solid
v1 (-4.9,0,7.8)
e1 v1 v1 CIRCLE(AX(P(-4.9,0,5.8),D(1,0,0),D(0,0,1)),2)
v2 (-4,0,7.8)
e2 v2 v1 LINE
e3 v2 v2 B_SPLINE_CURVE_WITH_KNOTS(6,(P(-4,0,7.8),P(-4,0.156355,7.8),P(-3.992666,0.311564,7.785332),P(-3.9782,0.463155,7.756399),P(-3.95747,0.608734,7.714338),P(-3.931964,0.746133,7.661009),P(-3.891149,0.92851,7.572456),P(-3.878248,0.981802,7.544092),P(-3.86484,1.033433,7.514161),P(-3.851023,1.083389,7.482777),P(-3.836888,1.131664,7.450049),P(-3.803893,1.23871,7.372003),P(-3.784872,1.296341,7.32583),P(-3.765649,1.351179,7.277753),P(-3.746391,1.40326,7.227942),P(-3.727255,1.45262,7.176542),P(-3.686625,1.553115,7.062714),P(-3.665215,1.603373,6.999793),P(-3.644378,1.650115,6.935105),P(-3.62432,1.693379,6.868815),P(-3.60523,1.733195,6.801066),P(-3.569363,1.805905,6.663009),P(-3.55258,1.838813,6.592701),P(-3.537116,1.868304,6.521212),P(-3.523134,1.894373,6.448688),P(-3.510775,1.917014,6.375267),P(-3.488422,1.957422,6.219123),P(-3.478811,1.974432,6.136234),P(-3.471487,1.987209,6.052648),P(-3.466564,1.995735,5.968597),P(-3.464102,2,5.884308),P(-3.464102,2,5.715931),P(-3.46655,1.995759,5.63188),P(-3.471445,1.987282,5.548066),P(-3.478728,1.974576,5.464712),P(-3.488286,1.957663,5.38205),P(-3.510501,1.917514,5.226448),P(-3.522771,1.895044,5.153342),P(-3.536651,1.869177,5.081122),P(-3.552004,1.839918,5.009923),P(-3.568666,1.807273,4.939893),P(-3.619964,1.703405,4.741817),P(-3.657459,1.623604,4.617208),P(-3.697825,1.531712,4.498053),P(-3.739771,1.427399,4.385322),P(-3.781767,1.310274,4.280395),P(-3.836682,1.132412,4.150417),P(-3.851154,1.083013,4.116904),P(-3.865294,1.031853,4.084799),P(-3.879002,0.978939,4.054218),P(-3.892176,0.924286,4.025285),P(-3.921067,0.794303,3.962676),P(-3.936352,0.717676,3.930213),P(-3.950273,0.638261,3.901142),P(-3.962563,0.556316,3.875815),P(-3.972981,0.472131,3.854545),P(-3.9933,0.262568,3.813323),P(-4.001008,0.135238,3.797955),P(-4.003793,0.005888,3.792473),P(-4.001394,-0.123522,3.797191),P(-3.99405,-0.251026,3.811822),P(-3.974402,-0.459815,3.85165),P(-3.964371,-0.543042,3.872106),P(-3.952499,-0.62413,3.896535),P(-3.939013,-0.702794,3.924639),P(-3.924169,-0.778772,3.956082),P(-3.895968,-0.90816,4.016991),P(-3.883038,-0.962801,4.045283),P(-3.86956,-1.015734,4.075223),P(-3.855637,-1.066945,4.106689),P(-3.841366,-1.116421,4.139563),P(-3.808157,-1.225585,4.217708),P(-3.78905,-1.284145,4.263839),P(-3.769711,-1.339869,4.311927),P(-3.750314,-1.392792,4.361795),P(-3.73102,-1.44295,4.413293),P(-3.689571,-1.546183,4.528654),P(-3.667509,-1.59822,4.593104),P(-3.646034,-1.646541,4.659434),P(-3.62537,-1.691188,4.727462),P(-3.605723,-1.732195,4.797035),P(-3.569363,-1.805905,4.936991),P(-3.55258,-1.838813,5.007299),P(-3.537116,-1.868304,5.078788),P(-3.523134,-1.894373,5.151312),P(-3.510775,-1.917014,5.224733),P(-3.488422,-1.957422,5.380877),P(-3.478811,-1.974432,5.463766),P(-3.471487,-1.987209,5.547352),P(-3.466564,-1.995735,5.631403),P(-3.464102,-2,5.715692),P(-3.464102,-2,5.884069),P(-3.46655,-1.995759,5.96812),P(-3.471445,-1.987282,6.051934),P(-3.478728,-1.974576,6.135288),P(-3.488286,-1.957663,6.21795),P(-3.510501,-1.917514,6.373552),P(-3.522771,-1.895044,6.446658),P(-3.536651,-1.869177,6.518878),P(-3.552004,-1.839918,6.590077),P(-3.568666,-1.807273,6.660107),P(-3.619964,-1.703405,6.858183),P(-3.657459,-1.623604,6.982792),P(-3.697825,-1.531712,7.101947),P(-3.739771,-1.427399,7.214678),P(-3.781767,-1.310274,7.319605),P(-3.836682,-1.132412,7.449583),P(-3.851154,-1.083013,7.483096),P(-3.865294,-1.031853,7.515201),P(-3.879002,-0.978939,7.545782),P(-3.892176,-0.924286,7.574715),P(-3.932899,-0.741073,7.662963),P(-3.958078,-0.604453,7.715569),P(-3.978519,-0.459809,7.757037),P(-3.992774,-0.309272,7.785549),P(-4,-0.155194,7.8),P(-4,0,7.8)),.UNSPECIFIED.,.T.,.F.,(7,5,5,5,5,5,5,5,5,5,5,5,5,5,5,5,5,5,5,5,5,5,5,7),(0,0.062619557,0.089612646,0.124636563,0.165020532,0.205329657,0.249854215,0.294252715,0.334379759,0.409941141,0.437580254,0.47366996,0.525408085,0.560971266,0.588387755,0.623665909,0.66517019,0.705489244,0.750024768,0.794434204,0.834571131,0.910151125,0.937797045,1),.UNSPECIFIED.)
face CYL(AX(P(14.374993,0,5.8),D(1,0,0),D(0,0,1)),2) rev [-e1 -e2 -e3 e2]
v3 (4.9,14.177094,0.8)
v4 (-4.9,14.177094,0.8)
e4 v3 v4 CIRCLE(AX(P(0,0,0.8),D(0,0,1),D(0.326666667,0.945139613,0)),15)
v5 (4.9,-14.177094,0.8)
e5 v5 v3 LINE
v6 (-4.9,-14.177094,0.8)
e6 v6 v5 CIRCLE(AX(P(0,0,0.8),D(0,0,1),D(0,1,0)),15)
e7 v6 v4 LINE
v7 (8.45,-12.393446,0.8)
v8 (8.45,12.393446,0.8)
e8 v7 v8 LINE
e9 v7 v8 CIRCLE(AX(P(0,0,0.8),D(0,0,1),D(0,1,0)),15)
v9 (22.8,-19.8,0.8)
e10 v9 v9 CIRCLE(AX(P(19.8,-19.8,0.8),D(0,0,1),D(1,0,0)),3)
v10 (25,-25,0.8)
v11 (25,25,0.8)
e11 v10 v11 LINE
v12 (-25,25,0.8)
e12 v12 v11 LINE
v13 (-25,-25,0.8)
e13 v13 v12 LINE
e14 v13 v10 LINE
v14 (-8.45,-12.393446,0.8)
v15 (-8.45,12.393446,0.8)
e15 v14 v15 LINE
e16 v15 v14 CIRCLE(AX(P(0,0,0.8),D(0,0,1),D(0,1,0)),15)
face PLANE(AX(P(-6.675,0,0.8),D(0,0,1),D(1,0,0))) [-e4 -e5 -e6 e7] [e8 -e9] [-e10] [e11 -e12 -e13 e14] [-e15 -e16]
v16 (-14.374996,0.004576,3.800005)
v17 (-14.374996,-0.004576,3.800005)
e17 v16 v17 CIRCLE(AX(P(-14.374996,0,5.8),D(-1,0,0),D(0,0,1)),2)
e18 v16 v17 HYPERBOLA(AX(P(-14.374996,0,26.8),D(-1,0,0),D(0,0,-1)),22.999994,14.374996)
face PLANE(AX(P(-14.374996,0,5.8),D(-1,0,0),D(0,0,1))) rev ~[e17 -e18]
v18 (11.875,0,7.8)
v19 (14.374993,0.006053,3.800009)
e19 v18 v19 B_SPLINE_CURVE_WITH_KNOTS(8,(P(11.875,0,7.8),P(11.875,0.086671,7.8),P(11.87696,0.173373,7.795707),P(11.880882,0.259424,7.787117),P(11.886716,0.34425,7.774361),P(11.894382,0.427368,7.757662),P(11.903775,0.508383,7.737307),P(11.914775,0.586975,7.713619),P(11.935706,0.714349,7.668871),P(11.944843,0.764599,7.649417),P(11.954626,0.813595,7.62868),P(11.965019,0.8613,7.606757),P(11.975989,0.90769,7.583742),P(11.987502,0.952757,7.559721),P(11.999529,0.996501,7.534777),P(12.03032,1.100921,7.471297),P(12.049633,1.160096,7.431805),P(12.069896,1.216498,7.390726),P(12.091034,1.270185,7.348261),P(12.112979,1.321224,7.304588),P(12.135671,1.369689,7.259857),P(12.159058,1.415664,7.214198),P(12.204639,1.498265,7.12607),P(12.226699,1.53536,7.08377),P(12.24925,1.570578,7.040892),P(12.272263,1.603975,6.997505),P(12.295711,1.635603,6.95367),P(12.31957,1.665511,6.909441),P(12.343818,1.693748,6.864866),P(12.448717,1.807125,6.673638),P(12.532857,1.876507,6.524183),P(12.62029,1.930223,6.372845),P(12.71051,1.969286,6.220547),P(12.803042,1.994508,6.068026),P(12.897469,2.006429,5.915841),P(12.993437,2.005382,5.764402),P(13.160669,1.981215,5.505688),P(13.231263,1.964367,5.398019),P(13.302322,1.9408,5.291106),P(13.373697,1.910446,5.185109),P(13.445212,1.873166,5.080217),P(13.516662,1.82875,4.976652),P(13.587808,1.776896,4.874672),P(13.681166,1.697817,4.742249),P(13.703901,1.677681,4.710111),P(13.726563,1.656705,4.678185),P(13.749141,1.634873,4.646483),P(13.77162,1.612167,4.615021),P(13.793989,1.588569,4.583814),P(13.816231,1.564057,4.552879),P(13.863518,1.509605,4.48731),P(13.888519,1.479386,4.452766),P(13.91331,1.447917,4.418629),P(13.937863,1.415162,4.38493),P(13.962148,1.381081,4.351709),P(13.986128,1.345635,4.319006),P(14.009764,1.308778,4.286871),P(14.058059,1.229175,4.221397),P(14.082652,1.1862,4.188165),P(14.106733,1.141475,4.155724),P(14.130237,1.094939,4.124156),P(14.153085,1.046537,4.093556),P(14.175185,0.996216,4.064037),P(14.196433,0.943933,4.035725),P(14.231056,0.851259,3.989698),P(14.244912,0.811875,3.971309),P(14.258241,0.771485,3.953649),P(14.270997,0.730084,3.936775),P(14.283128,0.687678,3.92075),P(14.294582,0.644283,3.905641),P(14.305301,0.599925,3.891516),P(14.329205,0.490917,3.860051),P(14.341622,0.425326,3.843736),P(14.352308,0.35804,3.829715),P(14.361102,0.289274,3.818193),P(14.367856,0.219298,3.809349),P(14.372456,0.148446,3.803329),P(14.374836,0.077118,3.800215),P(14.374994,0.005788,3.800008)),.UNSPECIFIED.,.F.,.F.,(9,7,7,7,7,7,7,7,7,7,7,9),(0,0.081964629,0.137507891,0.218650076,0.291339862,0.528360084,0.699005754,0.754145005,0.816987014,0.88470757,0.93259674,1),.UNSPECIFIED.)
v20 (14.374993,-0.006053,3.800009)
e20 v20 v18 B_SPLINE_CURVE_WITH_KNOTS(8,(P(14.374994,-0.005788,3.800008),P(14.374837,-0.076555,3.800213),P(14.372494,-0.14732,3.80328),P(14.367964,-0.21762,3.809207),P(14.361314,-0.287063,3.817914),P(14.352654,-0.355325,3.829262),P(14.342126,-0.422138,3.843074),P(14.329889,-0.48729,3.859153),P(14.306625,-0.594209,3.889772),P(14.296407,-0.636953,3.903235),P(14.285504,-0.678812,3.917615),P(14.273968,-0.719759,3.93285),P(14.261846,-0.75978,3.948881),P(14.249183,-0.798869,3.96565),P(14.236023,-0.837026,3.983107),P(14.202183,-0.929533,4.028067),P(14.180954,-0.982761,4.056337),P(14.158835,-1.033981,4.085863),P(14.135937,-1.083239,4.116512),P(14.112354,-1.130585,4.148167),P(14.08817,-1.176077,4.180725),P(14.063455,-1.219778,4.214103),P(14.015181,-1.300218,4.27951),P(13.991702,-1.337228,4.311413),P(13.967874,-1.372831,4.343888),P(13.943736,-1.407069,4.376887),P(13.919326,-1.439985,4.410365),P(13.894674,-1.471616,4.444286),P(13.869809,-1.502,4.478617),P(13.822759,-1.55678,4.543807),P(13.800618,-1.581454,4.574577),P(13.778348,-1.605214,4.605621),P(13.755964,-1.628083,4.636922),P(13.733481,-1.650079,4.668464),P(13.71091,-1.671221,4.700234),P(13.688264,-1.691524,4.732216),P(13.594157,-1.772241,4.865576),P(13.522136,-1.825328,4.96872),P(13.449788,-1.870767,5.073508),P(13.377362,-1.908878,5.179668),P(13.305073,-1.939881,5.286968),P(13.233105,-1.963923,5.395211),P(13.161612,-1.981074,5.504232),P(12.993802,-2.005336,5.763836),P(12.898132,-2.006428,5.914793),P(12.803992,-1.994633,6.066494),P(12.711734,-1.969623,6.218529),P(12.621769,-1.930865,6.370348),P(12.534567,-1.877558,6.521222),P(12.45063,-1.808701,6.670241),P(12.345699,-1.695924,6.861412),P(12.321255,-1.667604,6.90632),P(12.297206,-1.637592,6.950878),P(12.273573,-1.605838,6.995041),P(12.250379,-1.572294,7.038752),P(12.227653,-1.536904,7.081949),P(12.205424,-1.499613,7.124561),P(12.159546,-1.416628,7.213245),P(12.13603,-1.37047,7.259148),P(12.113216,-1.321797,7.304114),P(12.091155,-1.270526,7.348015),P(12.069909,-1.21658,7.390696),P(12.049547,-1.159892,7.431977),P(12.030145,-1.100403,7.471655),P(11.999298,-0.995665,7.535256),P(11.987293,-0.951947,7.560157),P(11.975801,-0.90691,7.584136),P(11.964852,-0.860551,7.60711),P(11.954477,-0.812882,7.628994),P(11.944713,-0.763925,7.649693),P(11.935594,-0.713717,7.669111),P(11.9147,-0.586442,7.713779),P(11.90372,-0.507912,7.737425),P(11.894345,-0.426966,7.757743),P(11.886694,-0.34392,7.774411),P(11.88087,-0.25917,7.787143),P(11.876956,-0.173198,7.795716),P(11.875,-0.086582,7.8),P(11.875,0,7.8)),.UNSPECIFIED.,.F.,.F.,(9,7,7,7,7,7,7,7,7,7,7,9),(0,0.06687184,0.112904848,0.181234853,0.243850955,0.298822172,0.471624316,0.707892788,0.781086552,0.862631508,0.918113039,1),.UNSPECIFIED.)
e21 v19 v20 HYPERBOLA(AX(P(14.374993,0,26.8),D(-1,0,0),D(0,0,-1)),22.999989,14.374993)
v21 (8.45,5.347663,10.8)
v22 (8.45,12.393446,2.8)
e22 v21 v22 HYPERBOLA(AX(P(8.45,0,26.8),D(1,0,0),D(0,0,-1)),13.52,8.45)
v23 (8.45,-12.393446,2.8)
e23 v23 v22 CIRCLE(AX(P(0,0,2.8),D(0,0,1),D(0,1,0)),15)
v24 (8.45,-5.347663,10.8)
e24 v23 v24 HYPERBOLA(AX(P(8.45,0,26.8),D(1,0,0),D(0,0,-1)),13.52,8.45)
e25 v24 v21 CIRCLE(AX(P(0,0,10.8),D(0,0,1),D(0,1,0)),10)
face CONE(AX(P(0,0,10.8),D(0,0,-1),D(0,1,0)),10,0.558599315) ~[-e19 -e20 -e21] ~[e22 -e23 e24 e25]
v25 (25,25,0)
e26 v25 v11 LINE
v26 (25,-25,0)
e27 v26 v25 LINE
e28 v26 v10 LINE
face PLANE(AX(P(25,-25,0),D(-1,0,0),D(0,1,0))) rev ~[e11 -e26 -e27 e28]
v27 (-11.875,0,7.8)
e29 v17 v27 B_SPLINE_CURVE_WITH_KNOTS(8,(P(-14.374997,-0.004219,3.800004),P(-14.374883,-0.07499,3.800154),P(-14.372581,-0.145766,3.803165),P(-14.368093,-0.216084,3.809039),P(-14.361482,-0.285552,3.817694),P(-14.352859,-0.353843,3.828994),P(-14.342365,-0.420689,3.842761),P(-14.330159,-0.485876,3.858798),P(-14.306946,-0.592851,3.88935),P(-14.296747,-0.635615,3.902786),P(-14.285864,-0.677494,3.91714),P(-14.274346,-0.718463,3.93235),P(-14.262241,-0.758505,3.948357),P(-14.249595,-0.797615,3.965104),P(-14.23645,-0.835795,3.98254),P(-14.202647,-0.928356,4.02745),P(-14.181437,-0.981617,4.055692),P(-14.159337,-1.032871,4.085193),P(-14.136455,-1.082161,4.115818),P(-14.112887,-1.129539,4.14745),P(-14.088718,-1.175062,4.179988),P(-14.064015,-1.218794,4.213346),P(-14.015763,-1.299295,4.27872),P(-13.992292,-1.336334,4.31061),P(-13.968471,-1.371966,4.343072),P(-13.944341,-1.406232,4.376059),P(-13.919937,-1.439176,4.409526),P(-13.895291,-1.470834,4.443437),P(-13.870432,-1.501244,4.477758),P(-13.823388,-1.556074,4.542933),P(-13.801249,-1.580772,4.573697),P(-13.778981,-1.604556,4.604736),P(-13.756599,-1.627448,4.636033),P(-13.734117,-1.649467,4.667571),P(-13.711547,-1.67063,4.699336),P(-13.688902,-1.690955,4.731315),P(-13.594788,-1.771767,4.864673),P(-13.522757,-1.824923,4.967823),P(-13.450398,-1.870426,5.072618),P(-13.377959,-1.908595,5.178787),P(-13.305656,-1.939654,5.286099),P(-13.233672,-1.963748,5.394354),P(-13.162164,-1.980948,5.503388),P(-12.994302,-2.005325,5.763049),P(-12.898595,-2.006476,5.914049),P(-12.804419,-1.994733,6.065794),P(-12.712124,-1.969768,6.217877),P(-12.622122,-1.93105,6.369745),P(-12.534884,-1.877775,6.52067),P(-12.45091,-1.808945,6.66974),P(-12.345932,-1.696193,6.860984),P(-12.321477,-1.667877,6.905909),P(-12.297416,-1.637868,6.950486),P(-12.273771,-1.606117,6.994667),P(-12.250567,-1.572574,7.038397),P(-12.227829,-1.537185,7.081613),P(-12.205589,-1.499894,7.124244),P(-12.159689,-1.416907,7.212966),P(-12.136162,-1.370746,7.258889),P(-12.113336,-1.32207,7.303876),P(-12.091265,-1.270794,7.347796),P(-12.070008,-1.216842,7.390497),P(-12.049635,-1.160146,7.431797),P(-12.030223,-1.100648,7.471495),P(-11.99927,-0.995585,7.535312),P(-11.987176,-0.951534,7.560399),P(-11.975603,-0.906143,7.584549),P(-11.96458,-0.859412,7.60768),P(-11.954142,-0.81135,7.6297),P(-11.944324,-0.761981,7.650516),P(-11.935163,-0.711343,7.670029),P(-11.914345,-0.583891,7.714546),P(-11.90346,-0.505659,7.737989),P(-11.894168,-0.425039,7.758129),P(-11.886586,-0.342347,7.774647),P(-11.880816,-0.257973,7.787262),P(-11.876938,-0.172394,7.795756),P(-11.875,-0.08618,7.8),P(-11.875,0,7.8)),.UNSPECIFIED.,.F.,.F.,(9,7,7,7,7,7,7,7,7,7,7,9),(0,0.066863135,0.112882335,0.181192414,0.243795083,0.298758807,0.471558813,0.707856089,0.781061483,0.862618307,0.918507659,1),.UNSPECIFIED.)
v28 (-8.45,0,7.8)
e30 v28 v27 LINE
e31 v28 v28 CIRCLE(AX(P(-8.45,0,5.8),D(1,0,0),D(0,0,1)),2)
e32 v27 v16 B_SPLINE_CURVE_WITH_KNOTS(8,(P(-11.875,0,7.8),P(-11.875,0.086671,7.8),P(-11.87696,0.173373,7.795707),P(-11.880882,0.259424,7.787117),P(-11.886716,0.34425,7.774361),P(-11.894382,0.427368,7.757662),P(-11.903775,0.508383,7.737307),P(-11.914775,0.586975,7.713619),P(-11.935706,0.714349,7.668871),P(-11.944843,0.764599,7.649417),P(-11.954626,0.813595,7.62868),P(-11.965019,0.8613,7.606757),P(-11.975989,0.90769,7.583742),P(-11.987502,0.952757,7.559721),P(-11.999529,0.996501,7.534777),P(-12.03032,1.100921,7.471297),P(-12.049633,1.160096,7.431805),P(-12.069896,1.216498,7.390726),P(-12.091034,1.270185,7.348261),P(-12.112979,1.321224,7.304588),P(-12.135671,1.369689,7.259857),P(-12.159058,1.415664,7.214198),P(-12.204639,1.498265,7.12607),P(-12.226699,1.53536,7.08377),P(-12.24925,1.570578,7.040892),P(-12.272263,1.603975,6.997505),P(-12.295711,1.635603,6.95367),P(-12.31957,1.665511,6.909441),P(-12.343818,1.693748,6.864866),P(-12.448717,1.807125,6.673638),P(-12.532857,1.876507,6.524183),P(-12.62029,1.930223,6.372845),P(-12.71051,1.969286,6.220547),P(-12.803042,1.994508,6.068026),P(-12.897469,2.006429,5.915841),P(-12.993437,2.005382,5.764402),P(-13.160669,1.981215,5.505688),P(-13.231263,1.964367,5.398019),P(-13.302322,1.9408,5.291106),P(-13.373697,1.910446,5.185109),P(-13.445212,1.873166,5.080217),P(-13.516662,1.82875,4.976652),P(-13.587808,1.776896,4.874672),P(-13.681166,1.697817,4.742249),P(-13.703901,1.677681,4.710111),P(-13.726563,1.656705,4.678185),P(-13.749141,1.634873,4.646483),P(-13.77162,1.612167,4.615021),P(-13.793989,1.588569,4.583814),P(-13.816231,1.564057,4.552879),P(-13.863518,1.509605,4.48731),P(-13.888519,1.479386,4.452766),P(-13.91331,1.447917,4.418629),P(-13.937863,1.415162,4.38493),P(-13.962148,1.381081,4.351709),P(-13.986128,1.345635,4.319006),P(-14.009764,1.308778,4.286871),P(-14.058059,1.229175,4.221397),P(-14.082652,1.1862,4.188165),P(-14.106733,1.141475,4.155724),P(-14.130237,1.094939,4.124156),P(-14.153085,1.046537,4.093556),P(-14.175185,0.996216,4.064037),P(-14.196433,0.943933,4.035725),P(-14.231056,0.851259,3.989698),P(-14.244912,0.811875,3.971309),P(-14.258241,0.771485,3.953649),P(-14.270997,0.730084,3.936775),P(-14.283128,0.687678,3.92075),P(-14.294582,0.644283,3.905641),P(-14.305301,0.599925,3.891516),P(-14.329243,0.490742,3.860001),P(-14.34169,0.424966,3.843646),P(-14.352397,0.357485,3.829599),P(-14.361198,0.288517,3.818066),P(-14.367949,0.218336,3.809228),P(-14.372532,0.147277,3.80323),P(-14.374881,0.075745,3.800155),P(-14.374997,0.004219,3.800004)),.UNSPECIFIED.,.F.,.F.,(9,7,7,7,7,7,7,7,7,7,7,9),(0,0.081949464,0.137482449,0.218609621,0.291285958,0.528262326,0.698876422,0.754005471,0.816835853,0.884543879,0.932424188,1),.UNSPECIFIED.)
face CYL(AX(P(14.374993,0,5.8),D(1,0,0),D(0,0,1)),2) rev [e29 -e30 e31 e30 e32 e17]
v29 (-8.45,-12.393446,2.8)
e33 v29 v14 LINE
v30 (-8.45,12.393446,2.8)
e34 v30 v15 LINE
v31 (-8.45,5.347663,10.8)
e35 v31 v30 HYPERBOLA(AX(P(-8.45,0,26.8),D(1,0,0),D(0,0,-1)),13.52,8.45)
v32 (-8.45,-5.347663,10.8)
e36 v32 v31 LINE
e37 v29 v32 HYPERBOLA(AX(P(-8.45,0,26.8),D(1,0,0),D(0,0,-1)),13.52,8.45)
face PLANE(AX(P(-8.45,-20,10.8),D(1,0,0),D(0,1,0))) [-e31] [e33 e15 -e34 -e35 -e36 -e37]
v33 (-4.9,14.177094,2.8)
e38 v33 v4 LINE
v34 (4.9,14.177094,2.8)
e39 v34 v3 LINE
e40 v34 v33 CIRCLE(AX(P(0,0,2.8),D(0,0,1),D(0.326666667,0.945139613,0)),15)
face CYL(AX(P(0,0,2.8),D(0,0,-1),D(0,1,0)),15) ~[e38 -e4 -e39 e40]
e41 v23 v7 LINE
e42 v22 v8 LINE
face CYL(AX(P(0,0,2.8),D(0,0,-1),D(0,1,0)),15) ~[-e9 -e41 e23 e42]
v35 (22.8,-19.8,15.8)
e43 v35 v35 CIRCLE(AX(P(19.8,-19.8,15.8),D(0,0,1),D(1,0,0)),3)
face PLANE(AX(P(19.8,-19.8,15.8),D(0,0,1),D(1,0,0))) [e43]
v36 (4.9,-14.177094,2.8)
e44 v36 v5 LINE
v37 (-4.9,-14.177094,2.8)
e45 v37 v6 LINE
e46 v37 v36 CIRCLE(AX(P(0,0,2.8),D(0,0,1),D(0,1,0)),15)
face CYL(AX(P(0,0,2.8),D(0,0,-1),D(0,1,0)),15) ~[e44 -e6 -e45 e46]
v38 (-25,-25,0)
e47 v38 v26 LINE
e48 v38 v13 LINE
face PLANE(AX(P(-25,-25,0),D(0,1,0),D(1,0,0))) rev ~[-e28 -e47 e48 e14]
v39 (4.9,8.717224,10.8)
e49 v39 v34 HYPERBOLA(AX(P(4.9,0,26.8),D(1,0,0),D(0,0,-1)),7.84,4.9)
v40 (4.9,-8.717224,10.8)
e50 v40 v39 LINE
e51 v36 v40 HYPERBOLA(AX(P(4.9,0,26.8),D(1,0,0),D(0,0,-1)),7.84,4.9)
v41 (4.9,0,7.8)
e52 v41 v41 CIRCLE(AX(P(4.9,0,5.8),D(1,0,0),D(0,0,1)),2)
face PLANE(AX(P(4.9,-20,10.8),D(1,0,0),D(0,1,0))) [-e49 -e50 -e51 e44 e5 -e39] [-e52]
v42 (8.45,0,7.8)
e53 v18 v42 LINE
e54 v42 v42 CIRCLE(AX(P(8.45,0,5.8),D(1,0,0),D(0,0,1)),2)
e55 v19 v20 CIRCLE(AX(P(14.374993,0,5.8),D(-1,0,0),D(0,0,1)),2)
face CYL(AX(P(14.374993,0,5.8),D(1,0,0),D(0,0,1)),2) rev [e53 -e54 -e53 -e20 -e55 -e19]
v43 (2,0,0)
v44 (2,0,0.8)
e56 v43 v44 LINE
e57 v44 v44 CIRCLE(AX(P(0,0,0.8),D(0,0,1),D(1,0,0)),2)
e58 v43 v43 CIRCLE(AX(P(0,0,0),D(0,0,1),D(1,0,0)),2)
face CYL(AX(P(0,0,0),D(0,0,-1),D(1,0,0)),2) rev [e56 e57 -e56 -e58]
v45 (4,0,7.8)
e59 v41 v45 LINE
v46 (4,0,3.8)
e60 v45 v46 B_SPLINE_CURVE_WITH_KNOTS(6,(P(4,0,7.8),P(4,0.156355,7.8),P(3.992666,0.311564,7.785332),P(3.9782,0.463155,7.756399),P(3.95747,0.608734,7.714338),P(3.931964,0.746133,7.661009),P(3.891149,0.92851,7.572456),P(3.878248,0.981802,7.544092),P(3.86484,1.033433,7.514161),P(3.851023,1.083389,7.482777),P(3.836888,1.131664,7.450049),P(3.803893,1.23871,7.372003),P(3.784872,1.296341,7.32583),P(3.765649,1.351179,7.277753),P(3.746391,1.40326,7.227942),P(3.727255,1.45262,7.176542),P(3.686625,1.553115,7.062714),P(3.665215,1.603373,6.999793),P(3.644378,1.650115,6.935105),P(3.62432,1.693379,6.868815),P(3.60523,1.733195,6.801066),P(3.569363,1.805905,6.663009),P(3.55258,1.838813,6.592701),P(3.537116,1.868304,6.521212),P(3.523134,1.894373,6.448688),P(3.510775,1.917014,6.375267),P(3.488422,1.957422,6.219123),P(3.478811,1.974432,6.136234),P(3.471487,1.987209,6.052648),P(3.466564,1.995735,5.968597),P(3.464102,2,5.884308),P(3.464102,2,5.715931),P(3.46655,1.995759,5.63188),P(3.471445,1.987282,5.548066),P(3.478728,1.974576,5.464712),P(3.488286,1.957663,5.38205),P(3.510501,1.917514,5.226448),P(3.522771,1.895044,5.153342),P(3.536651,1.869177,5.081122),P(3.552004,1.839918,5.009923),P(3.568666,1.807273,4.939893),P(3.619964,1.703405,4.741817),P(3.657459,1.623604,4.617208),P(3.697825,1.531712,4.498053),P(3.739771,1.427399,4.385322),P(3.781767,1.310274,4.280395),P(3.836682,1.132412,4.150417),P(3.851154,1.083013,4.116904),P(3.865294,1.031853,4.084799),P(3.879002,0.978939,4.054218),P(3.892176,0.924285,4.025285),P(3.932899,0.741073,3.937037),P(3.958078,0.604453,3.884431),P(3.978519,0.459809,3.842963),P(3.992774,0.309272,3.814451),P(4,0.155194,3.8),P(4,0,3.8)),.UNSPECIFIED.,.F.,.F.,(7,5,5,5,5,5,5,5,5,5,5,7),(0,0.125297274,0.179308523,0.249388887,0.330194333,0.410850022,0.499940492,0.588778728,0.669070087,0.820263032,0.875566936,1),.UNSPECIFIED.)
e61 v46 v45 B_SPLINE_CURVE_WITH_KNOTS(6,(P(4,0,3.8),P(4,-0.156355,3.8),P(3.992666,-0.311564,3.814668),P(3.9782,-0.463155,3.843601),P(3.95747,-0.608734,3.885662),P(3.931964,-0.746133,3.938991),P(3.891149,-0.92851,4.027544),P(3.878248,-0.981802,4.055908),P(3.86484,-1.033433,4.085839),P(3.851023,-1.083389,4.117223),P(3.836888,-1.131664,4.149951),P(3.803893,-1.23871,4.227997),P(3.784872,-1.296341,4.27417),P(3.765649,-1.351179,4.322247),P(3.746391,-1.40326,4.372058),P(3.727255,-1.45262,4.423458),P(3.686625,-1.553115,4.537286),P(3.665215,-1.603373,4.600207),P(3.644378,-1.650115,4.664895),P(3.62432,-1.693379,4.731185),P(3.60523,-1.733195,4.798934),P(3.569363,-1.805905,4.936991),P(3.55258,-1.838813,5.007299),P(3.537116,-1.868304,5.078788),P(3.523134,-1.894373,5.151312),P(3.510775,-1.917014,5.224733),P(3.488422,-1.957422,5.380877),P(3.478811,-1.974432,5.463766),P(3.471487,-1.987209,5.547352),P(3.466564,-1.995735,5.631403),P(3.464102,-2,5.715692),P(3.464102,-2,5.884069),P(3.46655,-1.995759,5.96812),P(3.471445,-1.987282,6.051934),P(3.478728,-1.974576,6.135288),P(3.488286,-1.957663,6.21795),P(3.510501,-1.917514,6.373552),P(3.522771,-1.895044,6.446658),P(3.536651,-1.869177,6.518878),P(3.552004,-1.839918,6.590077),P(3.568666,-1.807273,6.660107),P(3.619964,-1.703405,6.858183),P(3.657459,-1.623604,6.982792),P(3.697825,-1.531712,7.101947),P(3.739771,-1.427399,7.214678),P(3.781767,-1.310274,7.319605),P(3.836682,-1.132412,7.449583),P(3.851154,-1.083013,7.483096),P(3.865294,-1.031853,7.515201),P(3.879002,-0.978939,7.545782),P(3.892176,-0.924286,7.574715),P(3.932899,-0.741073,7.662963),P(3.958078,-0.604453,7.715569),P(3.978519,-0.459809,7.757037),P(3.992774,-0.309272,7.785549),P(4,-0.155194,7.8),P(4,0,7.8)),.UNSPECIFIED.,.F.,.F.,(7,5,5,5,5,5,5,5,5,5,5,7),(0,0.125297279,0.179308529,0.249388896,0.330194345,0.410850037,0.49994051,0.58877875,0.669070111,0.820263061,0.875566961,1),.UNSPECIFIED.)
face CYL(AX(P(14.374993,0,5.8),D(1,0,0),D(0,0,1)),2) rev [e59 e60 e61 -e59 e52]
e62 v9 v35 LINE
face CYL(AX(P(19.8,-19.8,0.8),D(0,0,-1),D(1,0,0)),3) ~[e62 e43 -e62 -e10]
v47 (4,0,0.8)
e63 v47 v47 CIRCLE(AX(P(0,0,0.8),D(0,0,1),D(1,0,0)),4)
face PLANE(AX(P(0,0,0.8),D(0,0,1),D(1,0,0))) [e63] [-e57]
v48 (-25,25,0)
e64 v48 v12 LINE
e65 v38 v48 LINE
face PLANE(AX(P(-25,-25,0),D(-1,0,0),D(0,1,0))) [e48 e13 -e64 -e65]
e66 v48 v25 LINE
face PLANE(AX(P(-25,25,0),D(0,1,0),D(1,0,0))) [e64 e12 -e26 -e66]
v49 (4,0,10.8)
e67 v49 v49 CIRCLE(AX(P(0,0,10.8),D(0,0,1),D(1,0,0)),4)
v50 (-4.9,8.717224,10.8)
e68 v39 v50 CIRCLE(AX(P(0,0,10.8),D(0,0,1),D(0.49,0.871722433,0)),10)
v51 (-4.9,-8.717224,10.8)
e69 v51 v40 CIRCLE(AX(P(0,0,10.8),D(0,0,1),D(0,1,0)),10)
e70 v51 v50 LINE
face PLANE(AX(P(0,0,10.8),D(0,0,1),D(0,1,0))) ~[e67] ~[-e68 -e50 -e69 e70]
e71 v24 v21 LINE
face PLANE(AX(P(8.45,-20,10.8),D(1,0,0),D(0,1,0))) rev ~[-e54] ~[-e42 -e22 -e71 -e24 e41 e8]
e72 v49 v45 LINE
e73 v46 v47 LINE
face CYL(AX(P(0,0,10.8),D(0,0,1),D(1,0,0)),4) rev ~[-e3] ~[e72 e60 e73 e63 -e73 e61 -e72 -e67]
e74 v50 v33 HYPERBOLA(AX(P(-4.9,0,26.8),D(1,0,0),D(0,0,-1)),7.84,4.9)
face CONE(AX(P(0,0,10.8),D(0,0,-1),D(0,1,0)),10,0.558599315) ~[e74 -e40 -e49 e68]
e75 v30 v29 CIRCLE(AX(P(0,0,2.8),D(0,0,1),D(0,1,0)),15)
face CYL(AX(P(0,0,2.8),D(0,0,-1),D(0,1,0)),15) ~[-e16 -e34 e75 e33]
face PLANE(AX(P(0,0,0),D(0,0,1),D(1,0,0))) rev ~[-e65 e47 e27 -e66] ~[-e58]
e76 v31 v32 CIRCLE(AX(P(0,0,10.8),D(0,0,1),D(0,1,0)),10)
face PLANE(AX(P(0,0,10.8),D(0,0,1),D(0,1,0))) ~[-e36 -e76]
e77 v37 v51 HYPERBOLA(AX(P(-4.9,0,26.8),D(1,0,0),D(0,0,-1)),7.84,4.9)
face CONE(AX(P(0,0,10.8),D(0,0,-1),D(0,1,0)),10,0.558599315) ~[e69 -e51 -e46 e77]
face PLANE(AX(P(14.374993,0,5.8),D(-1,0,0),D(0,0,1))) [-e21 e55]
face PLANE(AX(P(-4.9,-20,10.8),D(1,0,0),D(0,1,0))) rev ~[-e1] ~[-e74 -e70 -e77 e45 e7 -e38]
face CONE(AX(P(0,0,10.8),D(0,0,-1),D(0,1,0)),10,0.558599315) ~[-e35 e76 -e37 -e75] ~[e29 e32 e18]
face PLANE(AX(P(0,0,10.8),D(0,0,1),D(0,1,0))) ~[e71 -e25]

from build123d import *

# Parameters (mm, degrees)
CROQUIS1_W              = 50
CROQUIS1_H              = 50
CROQUIS1_R              = 2
SALIENTE_EXTRUIR2_DEPTH = 0.8
CROQUIS4_R              = 4
CROQUIS4_W              = 3.55
CROQUIS4_H              = 40
CORTAR_EXTRUIR1_DEPTH   = 10
CORTAR_EXTRUIR2_START   = -39.374993
CROQUIS7_R              = 2
CORTAR_EXTRUIR2_DEPTH   = 28.749989
CROQUIS8_R              = 3
SALIENTE_EXTRUIR3_DEPTH = 15


with BuildPart() as part:
    # Croquis1 → Saliente-Extruir2 (new body)
    with BuildSketch(Plane.XY):
        Rectangle(CROQUIS1_W, CROQUIS1_H)
        Circle(CROQUIS1_R, mode=Mode.SUBTRACT)
    extrude(amount=SALIENTE_EXTRUIR2_DEPTH)

    # Croquis2 → Revolución1 (revolve)
    with BuildSketch(Plane(origin=(0, 0, 0), x_dir=(0, 0, -1), z_dir=(1, 0, 0))):
        Polygon((-0.8, 0), (-10.8, 0), (-10.8, 10), (-2.8, 15), (-0.8, 15), align=None)
    revolve(axis=Axis((0, 0, 0.8), (0, 0, 1)))

    # Croquis4 → Cortar-Extruir1 (cut)
    with BuildSketch(Plane.XY.offset(10.8)):
        Circle(CROQUIS4_R)
        with Locations((-6.675, 0)):
            Rectangle(CROQUIS4_W, CROQUIS4_H)
        with Locations((6.675, 0)):
            Rectangle(CROQUIS4_W, CROQUIS4_H)
    extrude(amount=-CORTAR_EXTRUIR1_DEPTH, mode=Mode.SUBTRACT)

    # Croquis7 → Cortar-Extruir2 (cut)
    with BuildSketch(Plane.ZY.offset(25).offset(CORTAR_EXTRUIR2_START)):
        with Locations((5.8, 0)):
            Circle(CROQUIS7_R)
    extrude(amount=CORTAR_EXTRUIR2_DEPTH, mode=Mode.SUBTRACT)

    # Croquis8 → Saliente-Extruir3 (add)
    with BuildSketch(Plane.XY.offset(0.8)):
        with Locations((19.8, -19.8)):
            Circle(CROQUIS8_R)
    extrude(amount=SALIENTE_EXTRUIR3_DEPTH)


solid = part.part
